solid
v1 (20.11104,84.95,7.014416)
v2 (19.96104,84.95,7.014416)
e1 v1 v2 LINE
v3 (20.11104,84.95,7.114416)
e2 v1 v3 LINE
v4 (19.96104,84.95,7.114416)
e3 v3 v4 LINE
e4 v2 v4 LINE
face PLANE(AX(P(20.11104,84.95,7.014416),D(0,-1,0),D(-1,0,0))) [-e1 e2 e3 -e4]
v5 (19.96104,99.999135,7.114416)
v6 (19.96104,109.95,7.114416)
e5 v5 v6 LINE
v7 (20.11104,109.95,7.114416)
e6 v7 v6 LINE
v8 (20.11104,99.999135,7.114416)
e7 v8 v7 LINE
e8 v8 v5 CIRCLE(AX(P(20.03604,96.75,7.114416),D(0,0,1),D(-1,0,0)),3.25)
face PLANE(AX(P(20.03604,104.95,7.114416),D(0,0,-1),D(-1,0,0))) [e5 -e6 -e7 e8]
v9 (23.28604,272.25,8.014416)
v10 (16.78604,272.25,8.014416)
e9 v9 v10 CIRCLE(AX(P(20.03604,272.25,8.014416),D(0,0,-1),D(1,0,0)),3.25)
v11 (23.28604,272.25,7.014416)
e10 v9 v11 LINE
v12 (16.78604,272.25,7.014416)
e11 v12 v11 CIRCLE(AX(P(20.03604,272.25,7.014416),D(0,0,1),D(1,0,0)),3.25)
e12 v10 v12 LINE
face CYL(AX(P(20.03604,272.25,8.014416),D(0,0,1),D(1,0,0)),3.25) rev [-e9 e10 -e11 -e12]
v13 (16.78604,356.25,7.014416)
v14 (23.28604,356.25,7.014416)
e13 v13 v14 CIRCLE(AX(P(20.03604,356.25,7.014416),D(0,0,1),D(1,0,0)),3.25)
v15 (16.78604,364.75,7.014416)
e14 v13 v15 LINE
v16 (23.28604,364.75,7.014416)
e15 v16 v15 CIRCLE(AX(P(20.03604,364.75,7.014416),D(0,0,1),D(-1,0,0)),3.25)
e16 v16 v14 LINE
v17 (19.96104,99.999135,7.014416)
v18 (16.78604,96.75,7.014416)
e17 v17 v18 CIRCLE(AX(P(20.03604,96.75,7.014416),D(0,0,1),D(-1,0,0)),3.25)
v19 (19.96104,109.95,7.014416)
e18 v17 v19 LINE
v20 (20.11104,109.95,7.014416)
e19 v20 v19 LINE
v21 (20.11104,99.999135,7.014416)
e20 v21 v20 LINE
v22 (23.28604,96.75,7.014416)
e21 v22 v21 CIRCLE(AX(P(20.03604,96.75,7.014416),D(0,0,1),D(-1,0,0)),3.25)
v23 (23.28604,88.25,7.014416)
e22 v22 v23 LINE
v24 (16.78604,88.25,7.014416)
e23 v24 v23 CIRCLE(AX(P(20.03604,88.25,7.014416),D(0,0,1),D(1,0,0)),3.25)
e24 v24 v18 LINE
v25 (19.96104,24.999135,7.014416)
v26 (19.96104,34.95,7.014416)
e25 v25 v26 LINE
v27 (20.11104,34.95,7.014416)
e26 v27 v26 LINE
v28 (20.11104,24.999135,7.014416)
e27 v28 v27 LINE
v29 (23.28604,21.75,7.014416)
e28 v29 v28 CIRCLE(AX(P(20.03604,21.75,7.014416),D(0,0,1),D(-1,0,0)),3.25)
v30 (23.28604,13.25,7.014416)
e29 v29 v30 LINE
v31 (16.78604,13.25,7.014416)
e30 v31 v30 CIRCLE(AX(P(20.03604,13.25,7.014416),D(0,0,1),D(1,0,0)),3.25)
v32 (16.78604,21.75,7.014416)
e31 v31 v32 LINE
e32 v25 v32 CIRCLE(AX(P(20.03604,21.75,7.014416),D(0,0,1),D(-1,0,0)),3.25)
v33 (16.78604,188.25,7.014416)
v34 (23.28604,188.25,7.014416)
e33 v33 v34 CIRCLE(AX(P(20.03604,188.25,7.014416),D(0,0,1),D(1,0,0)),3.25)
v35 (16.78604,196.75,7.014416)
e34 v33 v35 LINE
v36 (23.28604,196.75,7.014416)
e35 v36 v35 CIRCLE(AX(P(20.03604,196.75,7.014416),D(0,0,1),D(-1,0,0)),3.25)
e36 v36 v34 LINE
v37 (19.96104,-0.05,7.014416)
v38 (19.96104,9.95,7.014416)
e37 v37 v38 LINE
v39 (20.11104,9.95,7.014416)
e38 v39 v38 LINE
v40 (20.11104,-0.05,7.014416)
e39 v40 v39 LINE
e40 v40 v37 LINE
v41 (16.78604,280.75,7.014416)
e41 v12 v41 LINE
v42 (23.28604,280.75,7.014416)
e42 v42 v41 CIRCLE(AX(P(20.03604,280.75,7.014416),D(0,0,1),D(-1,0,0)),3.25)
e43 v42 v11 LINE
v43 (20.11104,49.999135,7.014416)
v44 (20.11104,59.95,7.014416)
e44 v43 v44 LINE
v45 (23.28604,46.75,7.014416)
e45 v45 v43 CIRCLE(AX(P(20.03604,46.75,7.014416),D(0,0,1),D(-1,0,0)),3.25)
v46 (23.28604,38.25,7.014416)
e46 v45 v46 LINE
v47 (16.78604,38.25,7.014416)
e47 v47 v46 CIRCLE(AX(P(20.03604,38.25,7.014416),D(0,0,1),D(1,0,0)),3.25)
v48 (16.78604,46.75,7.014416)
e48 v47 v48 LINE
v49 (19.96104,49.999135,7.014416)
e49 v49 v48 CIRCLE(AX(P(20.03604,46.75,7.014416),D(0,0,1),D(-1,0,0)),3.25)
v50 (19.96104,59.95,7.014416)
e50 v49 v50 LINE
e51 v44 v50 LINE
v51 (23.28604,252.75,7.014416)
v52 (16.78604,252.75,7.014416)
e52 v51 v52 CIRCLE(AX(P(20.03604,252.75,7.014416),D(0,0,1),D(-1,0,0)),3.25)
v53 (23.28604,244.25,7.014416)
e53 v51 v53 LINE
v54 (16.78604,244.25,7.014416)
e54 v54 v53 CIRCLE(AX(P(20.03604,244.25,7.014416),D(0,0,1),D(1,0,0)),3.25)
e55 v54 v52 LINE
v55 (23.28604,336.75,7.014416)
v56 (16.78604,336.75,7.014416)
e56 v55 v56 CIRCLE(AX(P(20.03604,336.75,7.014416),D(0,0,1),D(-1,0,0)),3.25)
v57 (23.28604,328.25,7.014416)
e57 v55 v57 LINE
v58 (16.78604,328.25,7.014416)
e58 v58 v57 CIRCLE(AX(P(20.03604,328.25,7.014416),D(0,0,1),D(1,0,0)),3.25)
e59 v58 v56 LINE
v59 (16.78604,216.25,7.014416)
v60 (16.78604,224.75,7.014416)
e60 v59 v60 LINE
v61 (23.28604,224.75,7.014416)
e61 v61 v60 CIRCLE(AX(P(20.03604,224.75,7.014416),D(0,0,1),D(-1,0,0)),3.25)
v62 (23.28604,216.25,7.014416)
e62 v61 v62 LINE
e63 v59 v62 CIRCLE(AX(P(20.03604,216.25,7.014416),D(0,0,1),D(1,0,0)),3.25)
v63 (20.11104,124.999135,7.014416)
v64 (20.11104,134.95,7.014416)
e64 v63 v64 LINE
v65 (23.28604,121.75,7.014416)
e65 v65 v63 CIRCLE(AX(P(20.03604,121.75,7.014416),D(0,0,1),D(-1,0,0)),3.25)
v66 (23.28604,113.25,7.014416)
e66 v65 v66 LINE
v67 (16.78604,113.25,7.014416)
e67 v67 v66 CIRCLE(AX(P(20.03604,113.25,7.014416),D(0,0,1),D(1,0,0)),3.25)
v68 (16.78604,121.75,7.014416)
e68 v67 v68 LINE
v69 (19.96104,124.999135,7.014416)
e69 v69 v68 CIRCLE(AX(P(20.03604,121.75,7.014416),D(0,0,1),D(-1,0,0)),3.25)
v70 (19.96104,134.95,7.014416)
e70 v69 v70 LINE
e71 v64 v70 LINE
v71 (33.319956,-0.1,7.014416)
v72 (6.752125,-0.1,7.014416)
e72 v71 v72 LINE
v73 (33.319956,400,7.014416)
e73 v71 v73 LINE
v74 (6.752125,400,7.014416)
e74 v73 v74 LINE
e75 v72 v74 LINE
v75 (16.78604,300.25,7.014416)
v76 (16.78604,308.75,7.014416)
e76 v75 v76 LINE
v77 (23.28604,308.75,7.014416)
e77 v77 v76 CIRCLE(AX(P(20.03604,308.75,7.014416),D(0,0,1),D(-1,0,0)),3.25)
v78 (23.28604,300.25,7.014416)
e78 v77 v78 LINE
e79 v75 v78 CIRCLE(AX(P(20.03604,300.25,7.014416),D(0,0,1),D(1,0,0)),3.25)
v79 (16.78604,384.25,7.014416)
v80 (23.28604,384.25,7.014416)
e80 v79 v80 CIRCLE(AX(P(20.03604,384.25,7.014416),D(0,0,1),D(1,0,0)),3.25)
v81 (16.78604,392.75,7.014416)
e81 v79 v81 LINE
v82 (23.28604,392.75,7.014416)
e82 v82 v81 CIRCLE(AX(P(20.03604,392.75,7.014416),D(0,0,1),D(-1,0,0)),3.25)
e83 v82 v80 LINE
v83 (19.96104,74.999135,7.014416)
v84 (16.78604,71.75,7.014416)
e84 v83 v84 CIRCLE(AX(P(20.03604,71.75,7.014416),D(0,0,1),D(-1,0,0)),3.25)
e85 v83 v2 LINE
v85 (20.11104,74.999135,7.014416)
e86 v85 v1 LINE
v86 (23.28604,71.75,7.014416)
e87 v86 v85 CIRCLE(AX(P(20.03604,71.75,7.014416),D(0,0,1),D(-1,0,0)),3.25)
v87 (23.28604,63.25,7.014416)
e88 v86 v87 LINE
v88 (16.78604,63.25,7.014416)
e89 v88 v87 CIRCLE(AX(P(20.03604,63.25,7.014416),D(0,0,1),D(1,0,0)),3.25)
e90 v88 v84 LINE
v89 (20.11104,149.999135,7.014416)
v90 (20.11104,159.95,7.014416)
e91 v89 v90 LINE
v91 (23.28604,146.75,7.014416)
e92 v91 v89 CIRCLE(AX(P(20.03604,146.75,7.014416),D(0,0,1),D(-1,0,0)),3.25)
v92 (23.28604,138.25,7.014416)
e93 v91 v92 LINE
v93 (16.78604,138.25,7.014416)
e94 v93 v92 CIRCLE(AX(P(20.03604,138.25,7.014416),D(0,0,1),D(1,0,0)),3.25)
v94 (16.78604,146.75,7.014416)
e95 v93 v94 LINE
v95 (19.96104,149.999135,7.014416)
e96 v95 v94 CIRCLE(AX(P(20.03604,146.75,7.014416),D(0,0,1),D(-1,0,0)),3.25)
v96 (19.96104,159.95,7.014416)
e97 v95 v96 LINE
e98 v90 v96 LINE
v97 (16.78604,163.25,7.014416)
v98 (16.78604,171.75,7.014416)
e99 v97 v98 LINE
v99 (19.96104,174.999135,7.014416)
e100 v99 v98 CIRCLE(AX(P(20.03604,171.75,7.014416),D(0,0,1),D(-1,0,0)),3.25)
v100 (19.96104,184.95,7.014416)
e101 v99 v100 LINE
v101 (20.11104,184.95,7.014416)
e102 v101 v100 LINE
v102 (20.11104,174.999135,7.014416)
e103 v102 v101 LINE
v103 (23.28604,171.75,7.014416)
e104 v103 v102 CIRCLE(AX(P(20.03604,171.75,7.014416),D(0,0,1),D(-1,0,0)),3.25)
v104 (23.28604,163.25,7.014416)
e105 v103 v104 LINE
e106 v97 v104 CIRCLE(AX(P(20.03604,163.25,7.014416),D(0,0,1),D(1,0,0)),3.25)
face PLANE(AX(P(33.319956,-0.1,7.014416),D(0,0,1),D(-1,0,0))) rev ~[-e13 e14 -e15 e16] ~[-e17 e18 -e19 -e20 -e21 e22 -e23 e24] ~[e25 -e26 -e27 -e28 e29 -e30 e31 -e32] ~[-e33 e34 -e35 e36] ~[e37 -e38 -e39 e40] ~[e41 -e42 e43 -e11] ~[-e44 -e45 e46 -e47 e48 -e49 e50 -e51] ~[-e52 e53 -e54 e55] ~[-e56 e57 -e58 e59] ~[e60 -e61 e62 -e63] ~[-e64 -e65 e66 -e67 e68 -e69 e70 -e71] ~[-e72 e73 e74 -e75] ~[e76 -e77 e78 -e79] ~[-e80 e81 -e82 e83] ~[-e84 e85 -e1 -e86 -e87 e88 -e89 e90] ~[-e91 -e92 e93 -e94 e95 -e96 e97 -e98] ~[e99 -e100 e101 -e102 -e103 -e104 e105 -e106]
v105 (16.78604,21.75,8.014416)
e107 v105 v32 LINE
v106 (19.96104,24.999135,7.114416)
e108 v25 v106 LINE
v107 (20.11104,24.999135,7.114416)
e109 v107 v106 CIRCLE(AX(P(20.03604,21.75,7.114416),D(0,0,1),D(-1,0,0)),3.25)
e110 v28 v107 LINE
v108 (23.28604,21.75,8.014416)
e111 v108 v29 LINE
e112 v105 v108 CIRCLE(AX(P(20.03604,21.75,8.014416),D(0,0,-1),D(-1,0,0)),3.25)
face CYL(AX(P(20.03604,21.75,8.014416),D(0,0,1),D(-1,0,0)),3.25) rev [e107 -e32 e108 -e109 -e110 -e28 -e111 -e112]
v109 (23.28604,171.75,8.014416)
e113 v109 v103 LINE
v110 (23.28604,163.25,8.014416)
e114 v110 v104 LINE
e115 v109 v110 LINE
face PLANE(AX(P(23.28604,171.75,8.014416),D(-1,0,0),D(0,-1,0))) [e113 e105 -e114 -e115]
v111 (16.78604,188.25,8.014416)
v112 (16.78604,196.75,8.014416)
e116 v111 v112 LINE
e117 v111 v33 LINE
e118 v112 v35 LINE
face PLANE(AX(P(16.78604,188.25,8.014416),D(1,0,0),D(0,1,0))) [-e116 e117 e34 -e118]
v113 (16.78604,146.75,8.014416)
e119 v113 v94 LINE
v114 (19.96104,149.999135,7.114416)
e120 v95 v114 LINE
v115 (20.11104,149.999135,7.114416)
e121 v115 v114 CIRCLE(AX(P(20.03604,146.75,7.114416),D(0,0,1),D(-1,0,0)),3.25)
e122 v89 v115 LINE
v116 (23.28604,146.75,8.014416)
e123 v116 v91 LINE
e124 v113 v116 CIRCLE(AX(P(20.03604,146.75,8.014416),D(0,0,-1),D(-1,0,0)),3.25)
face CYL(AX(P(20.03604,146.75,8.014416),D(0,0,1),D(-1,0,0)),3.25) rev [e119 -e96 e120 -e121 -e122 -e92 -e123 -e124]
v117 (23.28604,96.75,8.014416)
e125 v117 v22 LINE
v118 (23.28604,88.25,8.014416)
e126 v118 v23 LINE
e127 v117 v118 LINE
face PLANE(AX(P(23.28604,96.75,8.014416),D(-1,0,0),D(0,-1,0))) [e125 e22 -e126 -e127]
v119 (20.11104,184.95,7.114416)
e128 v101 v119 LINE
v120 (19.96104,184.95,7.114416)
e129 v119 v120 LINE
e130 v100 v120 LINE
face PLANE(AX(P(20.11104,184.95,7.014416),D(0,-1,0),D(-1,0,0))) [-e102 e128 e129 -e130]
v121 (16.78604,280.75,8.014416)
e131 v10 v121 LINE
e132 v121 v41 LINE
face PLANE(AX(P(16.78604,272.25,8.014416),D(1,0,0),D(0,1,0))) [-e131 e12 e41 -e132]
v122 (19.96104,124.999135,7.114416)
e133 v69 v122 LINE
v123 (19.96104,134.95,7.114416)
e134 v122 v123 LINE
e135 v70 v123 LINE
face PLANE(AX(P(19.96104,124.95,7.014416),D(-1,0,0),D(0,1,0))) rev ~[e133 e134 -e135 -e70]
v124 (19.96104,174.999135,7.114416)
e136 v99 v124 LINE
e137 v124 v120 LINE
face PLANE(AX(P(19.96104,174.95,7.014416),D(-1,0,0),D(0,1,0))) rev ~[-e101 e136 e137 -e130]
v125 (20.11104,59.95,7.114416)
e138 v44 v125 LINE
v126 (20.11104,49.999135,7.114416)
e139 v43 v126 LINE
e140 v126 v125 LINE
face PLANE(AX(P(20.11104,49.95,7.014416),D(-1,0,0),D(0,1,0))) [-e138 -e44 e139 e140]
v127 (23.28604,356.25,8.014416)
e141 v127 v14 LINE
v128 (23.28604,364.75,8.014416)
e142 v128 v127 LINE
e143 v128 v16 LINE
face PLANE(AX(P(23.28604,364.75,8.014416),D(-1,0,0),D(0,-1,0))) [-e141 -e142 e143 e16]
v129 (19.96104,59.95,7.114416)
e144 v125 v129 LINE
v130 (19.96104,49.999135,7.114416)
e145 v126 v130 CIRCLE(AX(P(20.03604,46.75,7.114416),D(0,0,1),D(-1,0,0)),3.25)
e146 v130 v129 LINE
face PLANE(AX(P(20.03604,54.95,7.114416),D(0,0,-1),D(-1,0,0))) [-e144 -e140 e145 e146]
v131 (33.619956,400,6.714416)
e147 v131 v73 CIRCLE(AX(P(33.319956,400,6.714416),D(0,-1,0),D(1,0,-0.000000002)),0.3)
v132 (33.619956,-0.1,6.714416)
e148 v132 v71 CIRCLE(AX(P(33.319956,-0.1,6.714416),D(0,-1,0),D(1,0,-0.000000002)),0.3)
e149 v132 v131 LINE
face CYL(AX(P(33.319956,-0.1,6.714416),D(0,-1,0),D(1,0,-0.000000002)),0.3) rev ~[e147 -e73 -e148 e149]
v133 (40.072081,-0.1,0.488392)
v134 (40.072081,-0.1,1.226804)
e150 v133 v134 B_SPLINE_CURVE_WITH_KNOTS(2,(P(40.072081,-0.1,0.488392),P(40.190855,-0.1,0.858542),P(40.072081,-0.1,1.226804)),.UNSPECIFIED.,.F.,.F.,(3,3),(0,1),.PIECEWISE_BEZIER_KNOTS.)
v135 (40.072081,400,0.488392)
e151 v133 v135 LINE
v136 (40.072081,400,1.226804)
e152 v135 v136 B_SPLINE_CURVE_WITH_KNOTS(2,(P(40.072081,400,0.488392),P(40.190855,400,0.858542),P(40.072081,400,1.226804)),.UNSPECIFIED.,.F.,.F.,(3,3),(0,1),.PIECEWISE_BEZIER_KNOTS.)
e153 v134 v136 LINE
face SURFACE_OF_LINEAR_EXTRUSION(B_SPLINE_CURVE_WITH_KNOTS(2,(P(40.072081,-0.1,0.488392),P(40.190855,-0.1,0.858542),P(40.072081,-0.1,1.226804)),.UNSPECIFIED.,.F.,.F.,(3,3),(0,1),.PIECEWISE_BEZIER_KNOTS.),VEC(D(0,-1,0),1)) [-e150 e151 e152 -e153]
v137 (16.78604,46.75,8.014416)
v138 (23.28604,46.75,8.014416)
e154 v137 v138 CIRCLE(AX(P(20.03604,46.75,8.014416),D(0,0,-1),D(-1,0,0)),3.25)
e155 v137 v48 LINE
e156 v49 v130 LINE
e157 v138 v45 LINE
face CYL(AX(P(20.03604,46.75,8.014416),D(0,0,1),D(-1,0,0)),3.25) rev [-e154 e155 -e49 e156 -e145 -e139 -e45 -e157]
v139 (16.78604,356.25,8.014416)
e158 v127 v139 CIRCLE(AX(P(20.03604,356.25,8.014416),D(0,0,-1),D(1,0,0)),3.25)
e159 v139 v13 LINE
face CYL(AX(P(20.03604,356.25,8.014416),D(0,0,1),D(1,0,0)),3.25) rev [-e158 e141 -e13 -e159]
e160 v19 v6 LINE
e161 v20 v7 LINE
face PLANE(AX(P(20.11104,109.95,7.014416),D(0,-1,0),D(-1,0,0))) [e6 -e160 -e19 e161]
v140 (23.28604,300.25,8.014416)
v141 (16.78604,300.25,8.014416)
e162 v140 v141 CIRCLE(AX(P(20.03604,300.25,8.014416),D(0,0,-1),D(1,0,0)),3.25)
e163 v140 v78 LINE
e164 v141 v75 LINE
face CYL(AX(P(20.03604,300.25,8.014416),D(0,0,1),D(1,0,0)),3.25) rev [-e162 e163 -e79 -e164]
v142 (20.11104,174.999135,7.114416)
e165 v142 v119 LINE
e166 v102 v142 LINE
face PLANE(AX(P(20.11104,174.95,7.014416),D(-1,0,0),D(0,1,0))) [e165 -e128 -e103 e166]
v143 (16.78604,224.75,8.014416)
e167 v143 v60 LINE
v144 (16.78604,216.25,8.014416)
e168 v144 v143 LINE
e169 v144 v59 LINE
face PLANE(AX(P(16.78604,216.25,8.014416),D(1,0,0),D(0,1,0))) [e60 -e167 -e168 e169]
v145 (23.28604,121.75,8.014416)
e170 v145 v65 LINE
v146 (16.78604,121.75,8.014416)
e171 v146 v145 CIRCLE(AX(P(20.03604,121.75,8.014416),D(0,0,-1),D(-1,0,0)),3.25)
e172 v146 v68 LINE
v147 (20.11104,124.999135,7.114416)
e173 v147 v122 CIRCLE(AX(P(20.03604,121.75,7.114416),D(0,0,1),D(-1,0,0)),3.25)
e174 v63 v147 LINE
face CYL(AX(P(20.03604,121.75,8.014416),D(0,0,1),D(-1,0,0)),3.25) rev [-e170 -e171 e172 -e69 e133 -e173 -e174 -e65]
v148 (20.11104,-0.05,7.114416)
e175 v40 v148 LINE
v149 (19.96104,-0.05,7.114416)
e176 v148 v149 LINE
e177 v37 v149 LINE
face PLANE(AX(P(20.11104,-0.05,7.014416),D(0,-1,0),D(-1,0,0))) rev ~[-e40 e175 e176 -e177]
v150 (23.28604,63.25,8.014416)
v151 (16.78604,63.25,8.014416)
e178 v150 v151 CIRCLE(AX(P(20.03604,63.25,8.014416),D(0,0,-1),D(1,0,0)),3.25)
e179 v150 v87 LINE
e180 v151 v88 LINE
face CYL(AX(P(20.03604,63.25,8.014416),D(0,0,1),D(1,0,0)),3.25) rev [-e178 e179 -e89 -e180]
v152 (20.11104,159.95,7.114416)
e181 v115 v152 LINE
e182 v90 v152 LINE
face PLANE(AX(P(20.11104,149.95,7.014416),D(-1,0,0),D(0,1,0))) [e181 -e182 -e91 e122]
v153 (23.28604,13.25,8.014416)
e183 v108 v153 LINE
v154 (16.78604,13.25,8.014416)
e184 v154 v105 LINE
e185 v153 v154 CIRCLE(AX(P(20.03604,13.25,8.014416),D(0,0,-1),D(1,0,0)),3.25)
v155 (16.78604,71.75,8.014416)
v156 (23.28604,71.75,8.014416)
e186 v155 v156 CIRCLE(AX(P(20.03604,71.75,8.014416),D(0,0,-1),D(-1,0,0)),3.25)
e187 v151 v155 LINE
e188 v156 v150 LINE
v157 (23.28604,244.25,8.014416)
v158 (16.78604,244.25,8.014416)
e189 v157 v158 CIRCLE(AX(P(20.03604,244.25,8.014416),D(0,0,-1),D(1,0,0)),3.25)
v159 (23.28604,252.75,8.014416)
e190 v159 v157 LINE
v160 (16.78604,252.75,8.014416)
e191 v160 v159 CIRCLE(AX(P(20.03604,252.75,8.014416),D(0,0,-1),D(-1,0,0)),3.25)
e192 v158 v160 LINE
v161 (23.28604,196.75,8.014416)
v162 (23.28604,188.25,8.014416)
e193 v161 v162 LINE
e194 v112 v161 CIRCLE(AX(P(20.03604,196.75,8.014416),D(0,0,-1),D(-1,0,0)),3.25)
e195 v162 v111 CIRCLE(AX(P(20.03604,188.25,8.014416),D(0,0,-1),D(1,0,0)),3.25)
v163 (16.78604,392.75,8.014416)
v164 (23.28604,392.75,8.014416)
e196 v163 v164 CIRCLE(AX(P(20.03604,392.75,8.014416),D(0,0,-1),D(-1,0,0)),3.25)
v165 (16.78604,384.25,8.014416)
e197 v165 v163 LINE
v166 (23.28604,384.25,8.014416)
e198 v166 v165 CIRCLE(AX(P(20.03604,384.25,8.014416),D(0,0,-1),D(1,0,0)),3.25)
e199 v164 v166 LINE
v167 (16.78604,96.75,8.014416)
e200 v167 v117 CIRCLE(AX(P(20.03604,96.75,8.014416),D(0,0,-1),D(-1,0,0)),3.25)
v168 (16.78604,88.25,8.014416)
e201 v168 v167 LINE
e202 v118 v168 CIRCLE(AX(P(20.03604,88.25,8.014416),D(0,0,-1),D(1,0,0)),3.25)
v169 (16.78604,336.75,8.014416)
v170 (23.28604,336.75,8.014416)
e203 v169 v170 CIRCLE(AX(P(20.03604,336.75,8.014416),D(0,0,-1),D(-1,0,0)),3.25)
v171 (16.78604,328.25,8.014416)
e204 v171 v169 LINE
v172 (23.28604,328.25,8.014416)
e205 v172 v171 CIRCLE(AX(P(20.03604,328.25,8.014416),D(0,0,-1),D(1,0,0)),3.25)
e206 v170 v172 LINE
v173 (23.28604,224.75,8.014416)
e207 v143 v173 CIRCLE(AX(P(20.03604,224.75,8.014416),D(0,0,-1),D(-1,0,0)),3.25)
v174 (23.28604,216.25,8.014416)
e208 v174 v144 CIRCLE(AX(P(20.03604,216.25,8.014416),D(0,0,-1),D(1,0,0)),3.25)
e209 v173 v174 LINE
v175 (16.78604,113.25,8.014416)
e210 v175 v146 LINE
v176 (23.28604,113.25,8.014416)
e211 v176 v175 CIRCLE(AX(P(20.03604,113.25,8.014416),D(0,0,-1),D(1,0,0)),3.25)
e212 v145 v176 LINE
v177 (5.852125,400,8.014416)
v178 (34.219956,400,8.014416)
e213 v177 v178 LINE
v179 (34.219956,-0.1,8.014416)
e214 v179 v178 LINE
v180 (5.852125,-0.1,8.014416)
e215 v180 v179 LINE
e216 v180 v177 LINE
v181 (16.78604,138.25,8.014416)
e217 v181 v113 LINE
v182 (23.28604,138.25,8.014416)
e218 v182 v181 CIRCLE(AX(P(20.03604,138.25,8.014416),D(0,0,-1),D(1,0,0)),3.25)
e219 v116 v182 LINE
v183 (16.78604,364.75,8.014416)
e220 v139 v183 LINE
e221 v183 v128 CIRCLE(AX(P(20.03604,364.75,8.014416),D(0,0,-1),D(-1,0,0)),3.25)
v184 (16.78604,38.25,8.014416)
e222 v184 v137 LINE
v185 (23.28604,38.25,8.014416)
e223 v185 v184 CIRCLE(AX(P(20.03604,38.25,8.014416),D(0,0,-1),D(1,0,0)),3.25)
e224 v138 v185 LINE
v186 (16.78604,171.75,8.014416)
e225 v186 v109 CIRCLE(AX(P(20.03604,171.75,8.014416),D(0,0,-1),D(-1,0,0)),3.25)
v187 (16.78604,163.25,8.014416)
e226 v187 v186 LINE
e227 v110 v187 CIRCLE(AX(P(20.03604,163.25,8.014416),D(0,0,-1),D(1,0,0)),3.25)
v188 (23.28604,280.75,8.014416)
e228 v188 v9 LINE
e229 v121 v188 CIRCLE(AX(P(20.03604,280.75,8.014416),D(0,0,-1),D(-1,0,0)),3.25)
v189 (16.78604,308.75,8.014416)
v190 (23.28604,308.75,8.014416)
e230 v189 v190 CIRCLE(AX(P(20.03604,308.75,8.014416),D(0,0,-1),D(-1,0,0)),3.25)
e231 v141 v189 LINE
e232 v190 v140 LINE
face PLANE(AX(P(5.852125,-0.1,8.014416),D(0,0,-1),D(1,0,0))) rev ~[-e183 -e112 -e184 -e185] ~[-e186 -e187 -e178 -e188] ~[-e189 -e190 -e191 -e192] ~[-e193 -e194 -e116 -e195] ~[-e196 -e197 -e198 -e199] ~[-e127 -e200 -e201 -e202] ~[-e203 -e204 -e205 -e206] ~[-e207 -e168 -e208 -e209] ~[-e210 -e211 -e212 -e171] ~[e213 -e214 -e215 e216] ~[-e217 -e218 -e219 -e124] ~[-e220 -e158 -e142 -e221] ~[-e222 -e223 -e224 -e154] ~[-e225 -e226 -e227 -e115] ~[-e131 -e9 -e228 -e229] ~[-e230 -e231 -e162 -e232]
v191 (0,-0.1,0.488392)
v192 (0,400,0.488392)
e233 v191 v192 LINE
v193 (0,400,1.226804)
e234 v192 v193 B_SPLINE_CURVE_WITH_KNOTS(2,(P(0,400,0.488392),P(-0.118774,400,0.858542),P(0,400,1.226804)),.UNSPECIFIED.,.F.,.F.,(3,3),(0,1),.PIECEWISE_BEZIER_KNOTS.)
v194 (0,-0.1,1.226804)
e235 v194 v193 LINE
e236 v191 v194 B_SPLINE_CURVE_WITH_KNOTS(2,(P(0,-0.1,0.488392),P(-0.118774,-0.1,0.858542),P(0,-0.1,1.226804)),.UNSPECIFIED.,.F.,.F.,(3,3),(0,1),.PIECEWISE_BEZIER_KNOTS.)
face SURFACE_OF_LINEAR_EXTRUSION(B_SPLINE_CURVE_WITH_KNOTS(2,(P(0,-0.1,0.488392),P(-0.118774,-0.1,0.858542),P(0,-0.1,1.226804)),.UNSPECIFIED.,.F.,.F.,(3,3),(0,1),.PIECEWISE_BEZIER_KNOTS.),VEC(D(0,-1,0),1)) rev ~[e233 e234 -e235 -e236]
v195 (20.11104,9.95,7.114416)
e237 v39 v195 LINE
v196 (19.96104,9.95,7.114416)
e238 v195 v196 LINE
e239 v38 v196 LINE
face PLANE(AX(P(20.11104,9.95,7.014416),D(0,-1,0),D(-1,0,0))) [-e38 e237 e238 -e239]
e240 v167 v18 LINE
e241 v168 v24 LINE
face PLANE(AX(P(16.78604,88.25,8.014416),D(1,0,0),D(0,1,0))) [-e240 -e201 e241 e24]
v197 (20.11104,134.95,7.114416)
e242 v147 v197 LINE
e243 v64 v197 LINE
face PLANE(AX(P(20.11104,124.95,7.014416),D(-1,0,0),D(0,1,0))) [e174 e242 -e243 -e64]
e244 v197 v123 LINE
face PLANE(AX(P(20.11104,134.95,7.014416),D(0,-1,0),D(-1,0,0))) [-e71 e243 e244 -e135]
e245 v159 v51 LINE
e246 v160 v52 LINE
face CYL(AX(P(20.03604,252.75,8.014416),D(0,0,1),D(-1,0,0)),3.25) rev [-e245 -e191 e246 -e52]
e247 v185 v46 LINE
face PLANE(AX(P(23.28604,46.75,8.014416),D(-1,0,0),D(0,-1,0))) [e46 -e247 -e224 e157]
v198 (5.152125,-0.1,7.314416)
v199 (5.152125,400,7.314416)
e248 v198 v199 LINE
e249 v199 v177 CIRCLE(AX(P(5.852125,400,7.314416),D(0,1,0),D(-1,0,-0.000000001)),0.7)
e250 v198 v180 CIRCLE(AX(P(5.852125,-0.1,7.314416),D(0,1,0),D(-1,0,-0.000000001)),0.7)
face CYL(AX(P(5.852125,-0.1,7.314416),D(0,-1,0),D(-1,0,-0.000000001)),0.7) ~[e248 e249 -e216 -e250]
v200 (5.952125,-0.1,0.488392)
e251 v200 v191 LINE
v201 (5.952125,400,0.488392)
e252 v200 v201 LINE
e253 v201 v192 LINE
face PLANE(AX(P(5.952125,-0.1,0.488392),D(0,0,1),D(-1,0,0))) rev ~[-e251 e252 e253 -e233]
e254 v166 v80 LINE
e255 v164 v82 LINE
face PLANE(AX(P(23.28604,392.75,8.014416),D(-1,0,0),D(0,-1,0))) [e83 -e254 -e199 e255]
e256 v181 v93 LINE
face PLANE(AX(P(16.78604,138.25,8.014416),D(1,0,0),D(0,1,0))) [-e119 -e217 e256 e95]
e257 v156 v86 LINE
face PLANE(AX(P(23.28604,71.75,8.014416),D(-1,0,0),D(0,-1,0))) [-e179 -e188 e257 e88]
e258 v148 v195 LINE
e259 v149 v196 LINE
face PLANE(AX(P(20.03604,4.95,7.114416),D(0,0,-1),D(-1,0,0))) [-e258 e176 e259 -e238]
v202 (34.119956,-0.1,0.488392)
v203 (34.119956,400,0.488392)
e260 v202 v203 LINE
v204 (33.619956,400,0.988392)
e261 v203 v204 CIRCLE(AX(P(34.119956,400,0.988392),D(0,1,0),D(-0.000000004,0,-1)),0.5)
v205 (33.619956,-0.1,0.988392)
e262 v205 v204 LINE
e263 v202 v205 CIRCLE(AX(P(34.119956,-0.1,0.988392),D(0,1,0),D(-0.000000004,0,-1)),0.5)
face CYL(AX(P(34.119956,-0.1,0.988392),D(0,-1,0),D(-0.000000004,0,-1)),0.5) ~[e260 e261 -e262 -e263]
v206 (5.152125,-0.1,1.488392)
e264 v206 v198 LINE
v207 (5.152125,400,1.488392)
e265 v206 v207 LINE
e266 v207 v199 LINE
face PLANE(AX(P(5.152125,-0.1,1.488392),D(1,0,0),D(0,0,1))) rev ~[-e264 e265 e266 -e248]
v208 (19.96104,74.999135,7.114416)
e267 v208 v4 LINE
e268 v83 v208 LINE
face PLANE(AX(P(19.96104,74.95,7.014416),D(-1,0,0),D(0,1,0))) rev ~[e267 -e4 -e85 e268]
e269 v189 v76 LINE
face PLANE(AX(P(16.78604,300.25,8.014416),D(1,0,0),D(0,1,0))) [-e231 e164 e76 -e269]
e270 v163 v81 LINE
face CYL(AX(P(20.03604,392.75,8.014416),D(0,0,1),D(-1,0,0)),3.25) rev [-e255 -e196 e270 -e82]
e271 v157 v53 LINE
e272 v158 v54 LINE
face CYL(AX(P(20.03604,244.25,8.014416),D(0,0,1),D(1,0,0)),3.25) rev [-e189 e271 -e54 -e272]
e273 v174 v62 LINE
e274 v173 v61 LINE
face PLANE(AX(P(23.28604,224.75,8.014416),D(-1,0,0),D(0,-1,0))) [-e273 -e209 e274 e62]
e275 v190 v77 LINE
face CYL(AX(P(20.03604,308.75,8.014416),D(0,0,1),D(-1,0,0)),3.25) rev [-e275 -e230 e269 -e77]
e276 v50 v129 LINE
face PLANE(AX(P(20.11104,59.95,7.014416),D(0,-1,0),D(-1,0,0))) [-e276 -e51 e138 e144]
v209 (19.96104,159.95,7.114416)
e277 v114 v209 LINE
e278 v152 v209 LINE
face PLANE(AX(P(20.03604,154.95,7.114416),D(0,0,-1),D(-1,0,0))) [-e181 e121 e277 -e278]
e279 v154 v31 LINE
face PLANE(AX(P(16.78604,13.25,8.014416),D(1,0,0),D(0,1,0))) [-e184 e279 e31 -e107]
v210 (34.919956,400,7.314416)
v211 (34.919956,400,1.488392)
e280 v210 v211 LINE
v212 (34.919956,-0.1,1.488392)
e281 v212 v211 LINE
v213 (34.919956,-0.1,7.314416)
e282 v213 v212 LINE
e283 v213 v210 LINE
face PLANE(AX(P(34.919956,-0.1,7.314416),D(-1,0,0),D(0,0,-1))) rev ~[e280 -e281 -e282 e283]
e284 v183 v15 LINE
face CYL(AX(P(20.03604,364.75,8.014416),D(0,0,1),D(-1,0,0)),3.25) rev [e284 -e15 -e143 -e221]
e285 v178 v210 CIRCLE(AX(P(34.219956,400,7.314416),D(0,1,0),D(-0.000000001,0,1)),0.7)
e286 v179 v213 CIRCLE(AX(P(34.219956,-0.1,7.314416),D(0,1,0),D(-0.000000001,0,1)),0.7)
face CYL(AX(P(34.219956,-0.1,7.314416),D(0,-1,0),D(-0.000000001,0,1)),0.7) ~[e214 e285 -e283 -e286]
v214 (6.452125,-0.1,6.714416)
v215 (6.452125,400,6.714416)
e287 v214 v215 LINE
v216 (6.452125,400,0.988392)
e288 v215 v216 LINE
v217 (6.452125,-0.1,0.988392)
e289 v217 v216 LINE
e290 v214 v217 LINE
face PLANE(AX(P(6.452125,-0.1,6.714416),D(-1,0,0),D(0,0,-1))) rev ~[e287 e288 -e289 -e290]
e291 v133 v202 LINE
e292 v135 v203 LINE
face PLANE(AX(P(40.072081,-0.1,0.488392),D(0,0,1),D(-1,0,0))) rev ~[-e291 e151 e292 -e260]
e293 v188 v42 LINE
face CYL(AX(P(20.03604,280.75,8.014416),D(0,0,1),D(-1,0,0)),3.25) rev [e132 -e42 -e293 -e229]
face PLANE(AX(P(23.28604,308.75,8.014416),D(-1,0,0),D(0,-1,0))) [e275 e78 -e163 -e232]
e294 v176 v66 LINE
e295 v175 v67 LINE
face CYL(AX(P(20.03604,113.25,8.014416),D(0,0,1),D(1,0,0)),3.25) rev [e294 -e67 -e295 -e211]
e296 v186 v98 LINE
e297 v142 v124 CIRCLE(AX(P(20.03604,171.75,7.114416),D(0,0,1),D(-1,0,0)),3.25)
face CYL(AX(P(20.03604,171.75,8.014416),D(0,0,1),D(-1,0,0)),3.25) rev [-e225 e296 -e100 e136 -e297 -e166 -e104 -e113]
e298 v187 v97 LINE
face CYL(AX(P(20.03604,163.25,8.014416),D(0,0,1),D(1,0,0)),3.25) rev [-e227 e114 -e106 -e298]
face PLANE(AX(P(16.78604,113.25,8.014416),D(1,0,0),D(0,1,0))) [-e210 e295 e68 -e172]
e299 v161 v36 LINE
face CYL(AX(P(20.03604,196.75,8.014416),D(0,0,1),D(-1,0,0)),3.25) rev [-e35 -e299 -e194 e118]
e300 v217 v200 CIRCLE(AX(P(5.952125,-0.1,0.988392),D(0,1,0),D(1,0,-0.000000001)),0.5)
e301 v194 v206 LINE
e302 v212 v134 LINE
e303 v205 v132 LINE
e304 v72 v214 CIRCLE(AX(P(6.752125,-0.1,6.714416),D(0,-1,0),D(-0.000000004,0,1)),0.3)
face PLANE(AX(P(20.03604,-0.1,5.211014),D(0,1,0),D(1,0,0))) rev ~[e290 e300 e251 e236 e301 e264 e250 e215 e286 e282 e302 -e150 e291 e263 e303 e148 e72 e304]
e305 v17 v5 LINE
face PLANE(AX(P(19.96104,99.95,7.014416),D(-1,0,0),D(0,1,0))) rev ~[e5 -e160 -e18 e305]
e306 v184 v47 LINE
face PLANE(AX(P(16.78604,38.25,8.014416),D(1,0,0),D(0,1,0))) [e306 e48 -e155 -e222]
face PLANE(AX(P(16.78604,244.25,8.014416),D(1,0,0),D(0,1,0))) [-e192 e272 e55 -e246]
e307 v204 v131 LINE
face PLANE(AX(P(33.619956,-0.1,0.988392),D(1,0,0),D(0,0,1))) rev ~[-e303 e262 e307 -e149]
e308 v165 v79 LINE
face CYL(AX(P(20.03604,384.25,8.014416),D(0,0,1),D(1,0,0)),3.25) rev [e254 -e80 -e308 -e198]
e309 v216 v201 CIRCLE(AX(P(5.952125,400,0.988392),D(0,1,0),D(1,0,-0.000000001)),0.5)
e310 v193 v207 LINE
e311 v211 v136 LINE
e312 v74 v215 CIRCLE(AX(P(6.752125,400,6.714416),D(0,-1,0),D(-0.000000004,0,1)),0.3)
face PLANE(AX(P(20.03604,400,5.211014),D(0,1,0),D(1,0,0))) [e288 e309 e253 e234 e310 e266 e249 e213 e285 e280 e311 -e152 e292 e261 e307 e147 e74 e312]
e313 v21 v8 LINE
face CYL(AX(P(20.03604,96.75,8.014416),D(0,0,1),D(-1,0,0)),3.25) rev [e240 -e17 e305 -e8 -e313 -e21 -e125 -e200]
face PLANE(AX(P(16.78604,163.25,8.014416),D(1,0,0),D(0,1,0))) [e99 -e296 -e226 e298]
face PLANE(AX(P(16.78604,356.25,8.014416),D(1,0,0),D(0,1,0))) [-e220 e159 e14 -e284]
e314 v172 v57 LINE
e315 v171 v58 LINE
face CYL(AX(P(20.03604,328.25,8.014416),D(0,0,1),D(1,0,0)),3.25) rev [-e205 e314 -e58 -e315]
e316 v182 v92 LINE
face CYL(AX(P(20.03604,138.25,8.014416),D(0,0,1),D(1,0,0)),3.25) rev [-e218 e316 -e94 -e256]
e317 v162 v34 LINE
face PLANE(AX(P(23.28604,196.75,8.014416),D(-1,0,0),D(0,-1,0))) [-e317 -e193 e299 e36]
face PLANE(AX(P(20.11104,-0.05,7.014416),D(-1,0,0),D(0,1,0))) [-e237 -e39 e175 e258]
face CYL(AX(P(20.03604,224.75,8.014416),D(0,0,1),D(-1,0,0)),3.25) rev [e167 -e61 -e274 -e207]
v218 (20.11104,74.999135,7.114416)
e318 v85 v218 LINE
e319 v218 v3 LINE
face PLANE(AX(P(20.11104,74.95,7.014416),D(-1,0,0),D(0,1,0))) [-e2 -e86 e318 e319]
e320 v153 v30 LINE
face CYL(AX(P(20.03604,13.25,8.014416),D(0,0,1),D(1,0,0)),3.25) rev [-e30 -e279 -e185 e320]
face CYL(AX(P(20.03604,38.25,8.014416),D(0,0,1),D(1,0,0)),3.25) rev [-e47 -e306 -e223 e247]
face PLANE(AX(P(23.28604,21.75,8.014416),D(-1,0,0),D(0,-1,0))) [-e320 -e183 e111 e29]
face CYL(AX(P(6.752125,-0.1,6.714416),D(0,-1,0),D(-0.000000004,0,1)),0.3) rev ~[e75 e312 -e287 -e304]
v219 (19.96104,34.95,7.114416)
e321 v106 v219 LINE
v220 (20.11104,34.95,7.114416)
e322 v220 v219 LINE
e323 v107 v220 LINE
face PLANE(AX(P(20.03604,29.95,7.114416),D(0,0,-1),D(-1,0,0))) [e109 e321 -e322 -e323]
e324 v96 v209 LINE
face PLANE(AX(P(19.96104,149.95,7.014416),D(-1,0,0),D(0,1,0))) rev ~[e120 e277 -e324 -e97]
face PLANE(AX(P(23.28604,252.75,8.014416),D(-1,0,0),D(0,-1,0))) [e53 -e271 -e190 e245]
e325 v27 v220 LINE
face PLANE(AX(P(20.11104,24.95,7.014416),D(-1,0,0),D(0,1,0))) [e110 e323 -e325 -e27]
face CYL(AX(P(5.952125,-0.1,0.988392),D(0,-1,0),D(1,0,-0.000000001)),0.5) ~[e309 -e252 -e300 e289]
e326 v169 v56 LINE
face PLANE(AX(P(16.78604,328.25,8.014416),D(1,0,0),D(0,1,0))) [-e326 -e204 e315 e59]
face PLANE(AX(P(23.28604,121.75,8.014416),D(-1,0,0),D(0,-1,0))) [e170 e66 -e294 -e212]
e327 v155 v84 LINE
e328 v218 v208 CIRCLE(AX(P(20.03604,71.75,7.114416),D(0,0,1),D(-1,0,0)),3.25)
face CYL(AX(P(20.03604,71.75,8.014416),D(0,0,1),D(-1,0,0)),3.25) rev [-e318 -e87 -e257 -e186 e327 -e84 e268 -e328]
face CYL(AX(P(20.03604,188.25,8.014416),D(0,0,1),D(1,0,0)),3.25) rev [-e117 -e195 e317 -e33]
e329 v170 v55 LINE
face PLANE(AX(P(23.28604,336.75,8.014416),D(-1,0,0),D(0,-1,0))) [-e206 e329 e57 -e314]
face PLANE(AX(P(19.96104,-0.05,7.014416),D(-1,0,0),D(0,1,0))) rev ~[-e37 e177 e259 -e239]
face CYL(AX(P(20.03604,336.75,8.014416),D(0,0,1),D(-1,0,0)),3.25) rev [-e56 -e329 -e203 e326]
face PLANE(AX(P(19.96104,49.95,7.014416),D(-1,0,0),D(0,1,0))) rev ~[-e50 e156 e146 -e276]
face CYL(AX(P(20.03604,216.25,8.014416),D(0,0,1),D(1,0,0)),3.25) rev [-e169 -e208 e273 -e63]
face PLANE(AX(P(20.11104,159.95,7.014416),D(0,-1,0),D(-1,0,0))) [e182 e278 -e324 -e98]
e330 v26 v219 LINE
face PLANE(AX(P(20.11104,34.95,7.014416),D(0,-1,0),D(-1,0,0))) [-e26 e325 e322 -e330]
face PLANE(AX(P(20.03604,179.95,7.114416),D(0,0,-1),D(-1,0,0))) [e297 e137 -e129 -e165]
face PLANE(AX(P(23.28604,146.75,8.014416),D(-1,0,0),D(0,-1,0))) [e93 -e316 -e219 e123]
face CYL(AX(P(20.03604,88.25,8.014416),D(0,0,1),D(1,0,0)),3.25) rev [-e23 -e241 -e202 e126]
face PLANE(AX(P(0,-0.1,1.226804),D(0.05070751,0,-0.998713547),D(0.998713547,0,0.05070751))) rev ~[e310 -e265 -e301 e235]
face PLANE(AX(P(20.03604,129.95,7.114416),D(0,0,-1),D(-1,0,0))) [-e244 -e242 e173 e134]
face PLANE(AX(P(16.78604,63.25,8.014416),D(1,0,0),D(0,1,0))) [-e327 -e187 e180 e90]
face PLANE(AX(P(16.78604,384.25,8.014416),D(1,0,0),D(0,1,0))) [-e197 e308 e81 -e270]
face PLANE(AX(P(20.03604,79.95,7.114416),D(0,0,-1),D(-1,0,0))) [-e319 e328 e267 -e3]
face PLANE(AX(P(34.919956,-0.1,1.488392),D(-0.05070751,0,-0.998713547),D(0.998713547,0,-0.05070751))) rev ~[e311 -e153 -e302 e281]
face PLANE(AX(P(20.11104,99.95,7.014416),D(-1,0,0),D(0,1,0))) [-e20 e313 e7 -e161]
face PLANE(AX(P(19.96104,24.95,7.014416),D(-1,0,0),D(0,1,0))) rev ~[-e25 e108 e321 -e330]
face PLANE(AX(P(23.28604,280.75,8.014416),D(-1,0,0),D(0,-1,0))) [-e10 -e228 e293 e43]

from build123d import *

# Parameters (mm, degrees)
SALIENTE_EXTRUIR1_DEPTH      = 400
SALIENTE_EXTRUIR1_DEPTH_BACK = 0.1
CORTAR_EXTRUIR4_DEPTH        = 10
CROQUIS4_W                   = 0.15
CROQUIS4_H                   = 10
CORTAR_EXTRUIR9_DEPTH        = 0.1


with BuildPart() as part:
    # Croquis1 → Saliente-Extruir1 (new, two sides: drawn at the far end of the back side and taken through both)
    with BuildSketch(Plane(origin=(0, 0, 0), x_dir=(1, 0, 0), z_dir=(0, 1, 0)).offset(-SALIENTE_EXTRUIR1_DEPTH_BACK)):
        with BuildLine():
            Line((34.919955981, -1.488391566), (40.072080634, -1.226803632))
            add(Edge.make_bspline(
                [(40.072080634, -0.488391566), (40.190854748, -0.858541724), (40.072080634, -1.226803632)],
                knots=[0, 0, 0, 1, 1, 1], degree=2))
            Line((40.072080634, -0.488391566), (34.119955981, -0.488391566))
            ThreePointArc((34.119955981, -0.488391566), (33.766402591, -0.634838176), (33.619955981, -0.988391566))
            Line((33.619955981, -0.988391566), (33.619955981, -6.714416127))
            ThreePointArc((33.619955981, -6.714416127), (33.532088016, -6.926548161), (33.319955981, -7.014416127))
            Line((33.319955981, -7.014416127), (6.752124653, -7.014416127))
            ThreePointArc((6.752124653, -7.014416127), (6.539992619, -6.926548161), (6.452124653, -6.714416127))
            Line((6.452124653, -6.714416127), (6.452124653, -0.988391566))
            ThreePointArc((6.452124653, -0.988391566), (6.305678044, -0.634838176), (5.952124653, -0.488391566))
            Line((5.952124653, -0.488391566), (0, -0.488391566))
            add(Edge.make_bspline(
                [(0, -0.488391566), (-0.118774114, -0.858541724), (0, -1.226803632)],
                knots=[0, 0, 0, 1, 1, 1], degree=2))
            Line((0, -1.226803632), (5.152124653, -1.488391566))
            Line((5.152124653, -1.488391566), (5.152124653, -7.314416127))
            ThreePointArc((5.152124653, -7.314416127), (5.357149906, -7.809390874), (5.852124653, -8.014416127))
            Line((5.852124653, -8.014416127), (34.219955981, -8.014416127))
            ThreePointArc((34.219955981, -8.014416127), (34.714930728, -7.809390874), (34.919955981, -7.314416127))
            Line((34.919955981, -7.314416127), (34.919955981, -1.488391566))
        make_face()
    extrude(amount=SALIENTE_EXTRUIR1_DEPTH + SALIENTE_EXTRUIR1_DEPTH_BACK)

    # Croquis2 → Cortar-Extruir4 (cut)
    with BuildSketch(Plane.XY.offset(8.014416127)):
        with BuildLine():
            Line((16.786040317, 38.25), (16.786040317, 46.75))
            ThreePointArc((16.786040317, 46.75), (20.036040317, 50), (23.286040317, 46.75))
            Line((23.286040317, 46.75), (23.286040317, 38.25))
            ThreePointArc((23.286040317, 38.25), (20.036040317, 35), (16.786040317, 38.25))
        make_face()
        with BuildLine():
            Line((16.786040317, 13.25), (16.786040317, 21.75))
            ThreePointArc((16.786040317, 21.75), (20.036040317, 25), (23.286040317, 21.75))
            Line((23.286040317, 21.75), (23.286040317, 13.25))
            ThreePointArc((23.286040317, 13.25), (20.036040317, 10), (16.786040317, 13.25))
        make_face()
        with BuildLine():
            Line((16.786040317, 63.25), (16.786040317, 71.75))
            ThreePointArc((16.786040317, 71.75), (20.036040317, 75), (23.286040317, 71.75))
            Line((23.286040317, 71.75), (23.286040317, 63.25))
            ThreePointArc((23.286040317, 63.25), (20.036040317, 60), (16.786040317, 63.25))
        make_face()
        with BuildLine():
            Line((16.786040317, 88.25), (16.786040317, 96.75))
            ThreePointArc((16.786040317, 96.75), (20.036040317, 100), (23.286040317, 96.75))
            Line((23.286040317, 96.75), (23.286040317, 88.25))
            ThreePointArc((23.286040317, 88.25), (20.036040317, 85), (16.786040317, 88.25))
        make_face()
        with BuildLine():
            Line((16.786040317, 113.25), (16.786040317, 121.75))
            ThreePointArc((16.786040317, 121.75), (20.036040317, 125), (23.286040317, 121.75))
            Line((23.286040317, 121.75), (23.286040317, 113.25))
            ThreePointArc((23.286040317, 113.25), (20.036040317, 110), (16.786040317, 113.25))
        make_face()
        with BuildLine():
            Line((16.786040317, 138.25), (16.786040317, 146.75))
            ThreePointArc((16.786040317, 146.75), (20.036040317, 150), (23.286040317, 146.75))
            Line((23.286040317, 146.75), (23.286040317, 138.25))
            ThreePointArc((23.286040317, 138.25), (20.036040317, 135), (16.786040317, 138.25))
        make_face()
        with BuildLine():
            Line((16.786040317, 163.25), (16.786040317, 171.75))
            ThreePointArc((16.786040317, 171.75), (20.036040317, 175), (23.286040317, 171.75))
            Line((23.286040317, 171.75), (23.286040317, 163.25))
            ThreePointArc((23.286040317, 163.25), (20.036040317, 160), (16.786040317, 163.25))
        make_face()
        with BuildLine():
            Line((16.786040317, 188.25), (16.786040317, 196.75))
            ThreePointArc((16.786040317, 196.75), (20.036040317, 200), (23.286040317, 196.75))
            Line((23.286040317, 196.75), (23.286040317, 188.25))
            ThreePointArc((23.286040317, 188.25), (20.036040317, 185), (16.786040317, 188.25))
        make_face()
        with BuildLine():
            Line((16.786040317, 216.25), (16.786040317, 224.75))
            ThreePointArc((16.786040317, 224.75), (20.036040317, 228), (23.286040317, 224.75))
            Line((23.286040317, 224.75), (23.286040317, 216.25))
            ThreePointArc((23.286040317, 216.25), (20.036040317, 213), (16.786040317, 216.25))
        make_face()
        with BuildLine():
            Line((16.786040317, 244.25), (16.786040317, 252.75))
            ThreePointArc((16.786040317, 252.75), (20.036040317, 256), (23.286040317, 252.75))
            Line((23.286040317, 252.75), (23.286040317, 244.25))
            ThreePointArc((23.286040317, 244.25), (20.036040317, 241), (16.786040317, 244.25))
        make_face()
        with BuildLine():
            Line((16.786040317, 272.25), (16.786040317, 280.75))
            ThreePointArc((16.786040317, 280.75), (20.036040317, 284), (23.286040317, 280.75))
            Line((23.286040317, 280.75), (23.286040317, 272.25))
            ThreePointArc((23.286040317, 272.25), (20.036040317, 269), (16.786040317, 272.25))
        make_face()
        with BuildLine():
            Line((16.786040317, 300.25), (16.786040317, 308.75))
            ThreePointArc((16.786040317, 308.75), (20.036040317, 312), (23.286040317, 308.75))
            Line((23.286040317, 308.75), (23.286040317, 300.25))
            ThreePointArc((23.286040317, 300.25), (20.036040317, 297), (16.786040317, 300.25))
        make_face()
        with BuildLine():
            Line((16.786040317, 328.25), (16.786040317, 336.75))
            ThreePointArc((16.786040317, 336.75), (20.036040317, 340), (23.286040317, 336.75))
            Line((23.286040317, 336.75), (23.286040317, 328.25))
            ThreePointArc((23.286040317, 328.25), (20.036040317, 325), (16.786040317, 328.25))
        make_face()
        with BuildLine():
            Line((16.786040317, 356.25), (16.786040317, 364.75))
            ThreePointArc((16.786040317, 364.75), (20.036040317, 368), (23.286040317, 364.75))
            Line((23.286040317, 364.75), (23.286040317, 356.25))
            ThreePointArc((23.286040317, 356.25), (20.036040317, 353), (16.786040317, 356.25))
        make_face()
        with BuildLine():
            Line((16.786040317, 384.25), (16.786040317, 392.75))
            ThreePointArc((16.786040317, 392.75), (20.036040317, 396), (23.286040317, 392.75))
            Line((23.286040317, 392.75), (23.286040317, 384.25))
            ThreePointArc((23.286040317, 384.25), (20.036040317, 381), (16.786040317, 384.25))
        make_face()
    extrude(amount=-CORTAR_EXTRUIR4_DEPTH, mode=Mode.SUBTRACT)

    # Croquis4 → Cortar-Extruir9 (cut)
    with BuildSketch(Plane(origin=(0, 0, 7.014416127), x_dir=(-1, 0, 0), z_dir=(0, 0, -1))):
        with Locations((-20.036040317, 29.95)):
            Rectangle(CROQUIS4_W, CROQUIS4_H)
        with Locations((-20.036040317, 4.95)):
            Rectangle(CROQUIS4_W, CROQUIS4_H)
        with Locations((-20.036040317, 54.95)):
            Rectangle(CROQUIS4_W, CROQUIS4_H)
        with Locations((-20.036040317, 79.95)):
            Rectangle(CROQUIS4_W, CROQUIS4_H)
        with Locations((-20.036040317, 104.95)):
            Rectangle(CROQUIS4_W, CROQUIS4_H)
        with Locations((-20.036040317, 129.95)):
            Rectangle(CROQUIS4_W, CROQUIS4_H)
        with Locations((-20.036040317, 154.95)):
            Rectangle(CROQUIS4_W, CROQUIS4_H)
        with Locations((-20.036040317, 179.95)):
            Rectangle(CROQUIS4_W, CROQUIS4_H)
    extrude(amount=-CORTAR_EXTRUIR9_DEPTH, mode=Mode.SUBTRACT)


solid = part.part
